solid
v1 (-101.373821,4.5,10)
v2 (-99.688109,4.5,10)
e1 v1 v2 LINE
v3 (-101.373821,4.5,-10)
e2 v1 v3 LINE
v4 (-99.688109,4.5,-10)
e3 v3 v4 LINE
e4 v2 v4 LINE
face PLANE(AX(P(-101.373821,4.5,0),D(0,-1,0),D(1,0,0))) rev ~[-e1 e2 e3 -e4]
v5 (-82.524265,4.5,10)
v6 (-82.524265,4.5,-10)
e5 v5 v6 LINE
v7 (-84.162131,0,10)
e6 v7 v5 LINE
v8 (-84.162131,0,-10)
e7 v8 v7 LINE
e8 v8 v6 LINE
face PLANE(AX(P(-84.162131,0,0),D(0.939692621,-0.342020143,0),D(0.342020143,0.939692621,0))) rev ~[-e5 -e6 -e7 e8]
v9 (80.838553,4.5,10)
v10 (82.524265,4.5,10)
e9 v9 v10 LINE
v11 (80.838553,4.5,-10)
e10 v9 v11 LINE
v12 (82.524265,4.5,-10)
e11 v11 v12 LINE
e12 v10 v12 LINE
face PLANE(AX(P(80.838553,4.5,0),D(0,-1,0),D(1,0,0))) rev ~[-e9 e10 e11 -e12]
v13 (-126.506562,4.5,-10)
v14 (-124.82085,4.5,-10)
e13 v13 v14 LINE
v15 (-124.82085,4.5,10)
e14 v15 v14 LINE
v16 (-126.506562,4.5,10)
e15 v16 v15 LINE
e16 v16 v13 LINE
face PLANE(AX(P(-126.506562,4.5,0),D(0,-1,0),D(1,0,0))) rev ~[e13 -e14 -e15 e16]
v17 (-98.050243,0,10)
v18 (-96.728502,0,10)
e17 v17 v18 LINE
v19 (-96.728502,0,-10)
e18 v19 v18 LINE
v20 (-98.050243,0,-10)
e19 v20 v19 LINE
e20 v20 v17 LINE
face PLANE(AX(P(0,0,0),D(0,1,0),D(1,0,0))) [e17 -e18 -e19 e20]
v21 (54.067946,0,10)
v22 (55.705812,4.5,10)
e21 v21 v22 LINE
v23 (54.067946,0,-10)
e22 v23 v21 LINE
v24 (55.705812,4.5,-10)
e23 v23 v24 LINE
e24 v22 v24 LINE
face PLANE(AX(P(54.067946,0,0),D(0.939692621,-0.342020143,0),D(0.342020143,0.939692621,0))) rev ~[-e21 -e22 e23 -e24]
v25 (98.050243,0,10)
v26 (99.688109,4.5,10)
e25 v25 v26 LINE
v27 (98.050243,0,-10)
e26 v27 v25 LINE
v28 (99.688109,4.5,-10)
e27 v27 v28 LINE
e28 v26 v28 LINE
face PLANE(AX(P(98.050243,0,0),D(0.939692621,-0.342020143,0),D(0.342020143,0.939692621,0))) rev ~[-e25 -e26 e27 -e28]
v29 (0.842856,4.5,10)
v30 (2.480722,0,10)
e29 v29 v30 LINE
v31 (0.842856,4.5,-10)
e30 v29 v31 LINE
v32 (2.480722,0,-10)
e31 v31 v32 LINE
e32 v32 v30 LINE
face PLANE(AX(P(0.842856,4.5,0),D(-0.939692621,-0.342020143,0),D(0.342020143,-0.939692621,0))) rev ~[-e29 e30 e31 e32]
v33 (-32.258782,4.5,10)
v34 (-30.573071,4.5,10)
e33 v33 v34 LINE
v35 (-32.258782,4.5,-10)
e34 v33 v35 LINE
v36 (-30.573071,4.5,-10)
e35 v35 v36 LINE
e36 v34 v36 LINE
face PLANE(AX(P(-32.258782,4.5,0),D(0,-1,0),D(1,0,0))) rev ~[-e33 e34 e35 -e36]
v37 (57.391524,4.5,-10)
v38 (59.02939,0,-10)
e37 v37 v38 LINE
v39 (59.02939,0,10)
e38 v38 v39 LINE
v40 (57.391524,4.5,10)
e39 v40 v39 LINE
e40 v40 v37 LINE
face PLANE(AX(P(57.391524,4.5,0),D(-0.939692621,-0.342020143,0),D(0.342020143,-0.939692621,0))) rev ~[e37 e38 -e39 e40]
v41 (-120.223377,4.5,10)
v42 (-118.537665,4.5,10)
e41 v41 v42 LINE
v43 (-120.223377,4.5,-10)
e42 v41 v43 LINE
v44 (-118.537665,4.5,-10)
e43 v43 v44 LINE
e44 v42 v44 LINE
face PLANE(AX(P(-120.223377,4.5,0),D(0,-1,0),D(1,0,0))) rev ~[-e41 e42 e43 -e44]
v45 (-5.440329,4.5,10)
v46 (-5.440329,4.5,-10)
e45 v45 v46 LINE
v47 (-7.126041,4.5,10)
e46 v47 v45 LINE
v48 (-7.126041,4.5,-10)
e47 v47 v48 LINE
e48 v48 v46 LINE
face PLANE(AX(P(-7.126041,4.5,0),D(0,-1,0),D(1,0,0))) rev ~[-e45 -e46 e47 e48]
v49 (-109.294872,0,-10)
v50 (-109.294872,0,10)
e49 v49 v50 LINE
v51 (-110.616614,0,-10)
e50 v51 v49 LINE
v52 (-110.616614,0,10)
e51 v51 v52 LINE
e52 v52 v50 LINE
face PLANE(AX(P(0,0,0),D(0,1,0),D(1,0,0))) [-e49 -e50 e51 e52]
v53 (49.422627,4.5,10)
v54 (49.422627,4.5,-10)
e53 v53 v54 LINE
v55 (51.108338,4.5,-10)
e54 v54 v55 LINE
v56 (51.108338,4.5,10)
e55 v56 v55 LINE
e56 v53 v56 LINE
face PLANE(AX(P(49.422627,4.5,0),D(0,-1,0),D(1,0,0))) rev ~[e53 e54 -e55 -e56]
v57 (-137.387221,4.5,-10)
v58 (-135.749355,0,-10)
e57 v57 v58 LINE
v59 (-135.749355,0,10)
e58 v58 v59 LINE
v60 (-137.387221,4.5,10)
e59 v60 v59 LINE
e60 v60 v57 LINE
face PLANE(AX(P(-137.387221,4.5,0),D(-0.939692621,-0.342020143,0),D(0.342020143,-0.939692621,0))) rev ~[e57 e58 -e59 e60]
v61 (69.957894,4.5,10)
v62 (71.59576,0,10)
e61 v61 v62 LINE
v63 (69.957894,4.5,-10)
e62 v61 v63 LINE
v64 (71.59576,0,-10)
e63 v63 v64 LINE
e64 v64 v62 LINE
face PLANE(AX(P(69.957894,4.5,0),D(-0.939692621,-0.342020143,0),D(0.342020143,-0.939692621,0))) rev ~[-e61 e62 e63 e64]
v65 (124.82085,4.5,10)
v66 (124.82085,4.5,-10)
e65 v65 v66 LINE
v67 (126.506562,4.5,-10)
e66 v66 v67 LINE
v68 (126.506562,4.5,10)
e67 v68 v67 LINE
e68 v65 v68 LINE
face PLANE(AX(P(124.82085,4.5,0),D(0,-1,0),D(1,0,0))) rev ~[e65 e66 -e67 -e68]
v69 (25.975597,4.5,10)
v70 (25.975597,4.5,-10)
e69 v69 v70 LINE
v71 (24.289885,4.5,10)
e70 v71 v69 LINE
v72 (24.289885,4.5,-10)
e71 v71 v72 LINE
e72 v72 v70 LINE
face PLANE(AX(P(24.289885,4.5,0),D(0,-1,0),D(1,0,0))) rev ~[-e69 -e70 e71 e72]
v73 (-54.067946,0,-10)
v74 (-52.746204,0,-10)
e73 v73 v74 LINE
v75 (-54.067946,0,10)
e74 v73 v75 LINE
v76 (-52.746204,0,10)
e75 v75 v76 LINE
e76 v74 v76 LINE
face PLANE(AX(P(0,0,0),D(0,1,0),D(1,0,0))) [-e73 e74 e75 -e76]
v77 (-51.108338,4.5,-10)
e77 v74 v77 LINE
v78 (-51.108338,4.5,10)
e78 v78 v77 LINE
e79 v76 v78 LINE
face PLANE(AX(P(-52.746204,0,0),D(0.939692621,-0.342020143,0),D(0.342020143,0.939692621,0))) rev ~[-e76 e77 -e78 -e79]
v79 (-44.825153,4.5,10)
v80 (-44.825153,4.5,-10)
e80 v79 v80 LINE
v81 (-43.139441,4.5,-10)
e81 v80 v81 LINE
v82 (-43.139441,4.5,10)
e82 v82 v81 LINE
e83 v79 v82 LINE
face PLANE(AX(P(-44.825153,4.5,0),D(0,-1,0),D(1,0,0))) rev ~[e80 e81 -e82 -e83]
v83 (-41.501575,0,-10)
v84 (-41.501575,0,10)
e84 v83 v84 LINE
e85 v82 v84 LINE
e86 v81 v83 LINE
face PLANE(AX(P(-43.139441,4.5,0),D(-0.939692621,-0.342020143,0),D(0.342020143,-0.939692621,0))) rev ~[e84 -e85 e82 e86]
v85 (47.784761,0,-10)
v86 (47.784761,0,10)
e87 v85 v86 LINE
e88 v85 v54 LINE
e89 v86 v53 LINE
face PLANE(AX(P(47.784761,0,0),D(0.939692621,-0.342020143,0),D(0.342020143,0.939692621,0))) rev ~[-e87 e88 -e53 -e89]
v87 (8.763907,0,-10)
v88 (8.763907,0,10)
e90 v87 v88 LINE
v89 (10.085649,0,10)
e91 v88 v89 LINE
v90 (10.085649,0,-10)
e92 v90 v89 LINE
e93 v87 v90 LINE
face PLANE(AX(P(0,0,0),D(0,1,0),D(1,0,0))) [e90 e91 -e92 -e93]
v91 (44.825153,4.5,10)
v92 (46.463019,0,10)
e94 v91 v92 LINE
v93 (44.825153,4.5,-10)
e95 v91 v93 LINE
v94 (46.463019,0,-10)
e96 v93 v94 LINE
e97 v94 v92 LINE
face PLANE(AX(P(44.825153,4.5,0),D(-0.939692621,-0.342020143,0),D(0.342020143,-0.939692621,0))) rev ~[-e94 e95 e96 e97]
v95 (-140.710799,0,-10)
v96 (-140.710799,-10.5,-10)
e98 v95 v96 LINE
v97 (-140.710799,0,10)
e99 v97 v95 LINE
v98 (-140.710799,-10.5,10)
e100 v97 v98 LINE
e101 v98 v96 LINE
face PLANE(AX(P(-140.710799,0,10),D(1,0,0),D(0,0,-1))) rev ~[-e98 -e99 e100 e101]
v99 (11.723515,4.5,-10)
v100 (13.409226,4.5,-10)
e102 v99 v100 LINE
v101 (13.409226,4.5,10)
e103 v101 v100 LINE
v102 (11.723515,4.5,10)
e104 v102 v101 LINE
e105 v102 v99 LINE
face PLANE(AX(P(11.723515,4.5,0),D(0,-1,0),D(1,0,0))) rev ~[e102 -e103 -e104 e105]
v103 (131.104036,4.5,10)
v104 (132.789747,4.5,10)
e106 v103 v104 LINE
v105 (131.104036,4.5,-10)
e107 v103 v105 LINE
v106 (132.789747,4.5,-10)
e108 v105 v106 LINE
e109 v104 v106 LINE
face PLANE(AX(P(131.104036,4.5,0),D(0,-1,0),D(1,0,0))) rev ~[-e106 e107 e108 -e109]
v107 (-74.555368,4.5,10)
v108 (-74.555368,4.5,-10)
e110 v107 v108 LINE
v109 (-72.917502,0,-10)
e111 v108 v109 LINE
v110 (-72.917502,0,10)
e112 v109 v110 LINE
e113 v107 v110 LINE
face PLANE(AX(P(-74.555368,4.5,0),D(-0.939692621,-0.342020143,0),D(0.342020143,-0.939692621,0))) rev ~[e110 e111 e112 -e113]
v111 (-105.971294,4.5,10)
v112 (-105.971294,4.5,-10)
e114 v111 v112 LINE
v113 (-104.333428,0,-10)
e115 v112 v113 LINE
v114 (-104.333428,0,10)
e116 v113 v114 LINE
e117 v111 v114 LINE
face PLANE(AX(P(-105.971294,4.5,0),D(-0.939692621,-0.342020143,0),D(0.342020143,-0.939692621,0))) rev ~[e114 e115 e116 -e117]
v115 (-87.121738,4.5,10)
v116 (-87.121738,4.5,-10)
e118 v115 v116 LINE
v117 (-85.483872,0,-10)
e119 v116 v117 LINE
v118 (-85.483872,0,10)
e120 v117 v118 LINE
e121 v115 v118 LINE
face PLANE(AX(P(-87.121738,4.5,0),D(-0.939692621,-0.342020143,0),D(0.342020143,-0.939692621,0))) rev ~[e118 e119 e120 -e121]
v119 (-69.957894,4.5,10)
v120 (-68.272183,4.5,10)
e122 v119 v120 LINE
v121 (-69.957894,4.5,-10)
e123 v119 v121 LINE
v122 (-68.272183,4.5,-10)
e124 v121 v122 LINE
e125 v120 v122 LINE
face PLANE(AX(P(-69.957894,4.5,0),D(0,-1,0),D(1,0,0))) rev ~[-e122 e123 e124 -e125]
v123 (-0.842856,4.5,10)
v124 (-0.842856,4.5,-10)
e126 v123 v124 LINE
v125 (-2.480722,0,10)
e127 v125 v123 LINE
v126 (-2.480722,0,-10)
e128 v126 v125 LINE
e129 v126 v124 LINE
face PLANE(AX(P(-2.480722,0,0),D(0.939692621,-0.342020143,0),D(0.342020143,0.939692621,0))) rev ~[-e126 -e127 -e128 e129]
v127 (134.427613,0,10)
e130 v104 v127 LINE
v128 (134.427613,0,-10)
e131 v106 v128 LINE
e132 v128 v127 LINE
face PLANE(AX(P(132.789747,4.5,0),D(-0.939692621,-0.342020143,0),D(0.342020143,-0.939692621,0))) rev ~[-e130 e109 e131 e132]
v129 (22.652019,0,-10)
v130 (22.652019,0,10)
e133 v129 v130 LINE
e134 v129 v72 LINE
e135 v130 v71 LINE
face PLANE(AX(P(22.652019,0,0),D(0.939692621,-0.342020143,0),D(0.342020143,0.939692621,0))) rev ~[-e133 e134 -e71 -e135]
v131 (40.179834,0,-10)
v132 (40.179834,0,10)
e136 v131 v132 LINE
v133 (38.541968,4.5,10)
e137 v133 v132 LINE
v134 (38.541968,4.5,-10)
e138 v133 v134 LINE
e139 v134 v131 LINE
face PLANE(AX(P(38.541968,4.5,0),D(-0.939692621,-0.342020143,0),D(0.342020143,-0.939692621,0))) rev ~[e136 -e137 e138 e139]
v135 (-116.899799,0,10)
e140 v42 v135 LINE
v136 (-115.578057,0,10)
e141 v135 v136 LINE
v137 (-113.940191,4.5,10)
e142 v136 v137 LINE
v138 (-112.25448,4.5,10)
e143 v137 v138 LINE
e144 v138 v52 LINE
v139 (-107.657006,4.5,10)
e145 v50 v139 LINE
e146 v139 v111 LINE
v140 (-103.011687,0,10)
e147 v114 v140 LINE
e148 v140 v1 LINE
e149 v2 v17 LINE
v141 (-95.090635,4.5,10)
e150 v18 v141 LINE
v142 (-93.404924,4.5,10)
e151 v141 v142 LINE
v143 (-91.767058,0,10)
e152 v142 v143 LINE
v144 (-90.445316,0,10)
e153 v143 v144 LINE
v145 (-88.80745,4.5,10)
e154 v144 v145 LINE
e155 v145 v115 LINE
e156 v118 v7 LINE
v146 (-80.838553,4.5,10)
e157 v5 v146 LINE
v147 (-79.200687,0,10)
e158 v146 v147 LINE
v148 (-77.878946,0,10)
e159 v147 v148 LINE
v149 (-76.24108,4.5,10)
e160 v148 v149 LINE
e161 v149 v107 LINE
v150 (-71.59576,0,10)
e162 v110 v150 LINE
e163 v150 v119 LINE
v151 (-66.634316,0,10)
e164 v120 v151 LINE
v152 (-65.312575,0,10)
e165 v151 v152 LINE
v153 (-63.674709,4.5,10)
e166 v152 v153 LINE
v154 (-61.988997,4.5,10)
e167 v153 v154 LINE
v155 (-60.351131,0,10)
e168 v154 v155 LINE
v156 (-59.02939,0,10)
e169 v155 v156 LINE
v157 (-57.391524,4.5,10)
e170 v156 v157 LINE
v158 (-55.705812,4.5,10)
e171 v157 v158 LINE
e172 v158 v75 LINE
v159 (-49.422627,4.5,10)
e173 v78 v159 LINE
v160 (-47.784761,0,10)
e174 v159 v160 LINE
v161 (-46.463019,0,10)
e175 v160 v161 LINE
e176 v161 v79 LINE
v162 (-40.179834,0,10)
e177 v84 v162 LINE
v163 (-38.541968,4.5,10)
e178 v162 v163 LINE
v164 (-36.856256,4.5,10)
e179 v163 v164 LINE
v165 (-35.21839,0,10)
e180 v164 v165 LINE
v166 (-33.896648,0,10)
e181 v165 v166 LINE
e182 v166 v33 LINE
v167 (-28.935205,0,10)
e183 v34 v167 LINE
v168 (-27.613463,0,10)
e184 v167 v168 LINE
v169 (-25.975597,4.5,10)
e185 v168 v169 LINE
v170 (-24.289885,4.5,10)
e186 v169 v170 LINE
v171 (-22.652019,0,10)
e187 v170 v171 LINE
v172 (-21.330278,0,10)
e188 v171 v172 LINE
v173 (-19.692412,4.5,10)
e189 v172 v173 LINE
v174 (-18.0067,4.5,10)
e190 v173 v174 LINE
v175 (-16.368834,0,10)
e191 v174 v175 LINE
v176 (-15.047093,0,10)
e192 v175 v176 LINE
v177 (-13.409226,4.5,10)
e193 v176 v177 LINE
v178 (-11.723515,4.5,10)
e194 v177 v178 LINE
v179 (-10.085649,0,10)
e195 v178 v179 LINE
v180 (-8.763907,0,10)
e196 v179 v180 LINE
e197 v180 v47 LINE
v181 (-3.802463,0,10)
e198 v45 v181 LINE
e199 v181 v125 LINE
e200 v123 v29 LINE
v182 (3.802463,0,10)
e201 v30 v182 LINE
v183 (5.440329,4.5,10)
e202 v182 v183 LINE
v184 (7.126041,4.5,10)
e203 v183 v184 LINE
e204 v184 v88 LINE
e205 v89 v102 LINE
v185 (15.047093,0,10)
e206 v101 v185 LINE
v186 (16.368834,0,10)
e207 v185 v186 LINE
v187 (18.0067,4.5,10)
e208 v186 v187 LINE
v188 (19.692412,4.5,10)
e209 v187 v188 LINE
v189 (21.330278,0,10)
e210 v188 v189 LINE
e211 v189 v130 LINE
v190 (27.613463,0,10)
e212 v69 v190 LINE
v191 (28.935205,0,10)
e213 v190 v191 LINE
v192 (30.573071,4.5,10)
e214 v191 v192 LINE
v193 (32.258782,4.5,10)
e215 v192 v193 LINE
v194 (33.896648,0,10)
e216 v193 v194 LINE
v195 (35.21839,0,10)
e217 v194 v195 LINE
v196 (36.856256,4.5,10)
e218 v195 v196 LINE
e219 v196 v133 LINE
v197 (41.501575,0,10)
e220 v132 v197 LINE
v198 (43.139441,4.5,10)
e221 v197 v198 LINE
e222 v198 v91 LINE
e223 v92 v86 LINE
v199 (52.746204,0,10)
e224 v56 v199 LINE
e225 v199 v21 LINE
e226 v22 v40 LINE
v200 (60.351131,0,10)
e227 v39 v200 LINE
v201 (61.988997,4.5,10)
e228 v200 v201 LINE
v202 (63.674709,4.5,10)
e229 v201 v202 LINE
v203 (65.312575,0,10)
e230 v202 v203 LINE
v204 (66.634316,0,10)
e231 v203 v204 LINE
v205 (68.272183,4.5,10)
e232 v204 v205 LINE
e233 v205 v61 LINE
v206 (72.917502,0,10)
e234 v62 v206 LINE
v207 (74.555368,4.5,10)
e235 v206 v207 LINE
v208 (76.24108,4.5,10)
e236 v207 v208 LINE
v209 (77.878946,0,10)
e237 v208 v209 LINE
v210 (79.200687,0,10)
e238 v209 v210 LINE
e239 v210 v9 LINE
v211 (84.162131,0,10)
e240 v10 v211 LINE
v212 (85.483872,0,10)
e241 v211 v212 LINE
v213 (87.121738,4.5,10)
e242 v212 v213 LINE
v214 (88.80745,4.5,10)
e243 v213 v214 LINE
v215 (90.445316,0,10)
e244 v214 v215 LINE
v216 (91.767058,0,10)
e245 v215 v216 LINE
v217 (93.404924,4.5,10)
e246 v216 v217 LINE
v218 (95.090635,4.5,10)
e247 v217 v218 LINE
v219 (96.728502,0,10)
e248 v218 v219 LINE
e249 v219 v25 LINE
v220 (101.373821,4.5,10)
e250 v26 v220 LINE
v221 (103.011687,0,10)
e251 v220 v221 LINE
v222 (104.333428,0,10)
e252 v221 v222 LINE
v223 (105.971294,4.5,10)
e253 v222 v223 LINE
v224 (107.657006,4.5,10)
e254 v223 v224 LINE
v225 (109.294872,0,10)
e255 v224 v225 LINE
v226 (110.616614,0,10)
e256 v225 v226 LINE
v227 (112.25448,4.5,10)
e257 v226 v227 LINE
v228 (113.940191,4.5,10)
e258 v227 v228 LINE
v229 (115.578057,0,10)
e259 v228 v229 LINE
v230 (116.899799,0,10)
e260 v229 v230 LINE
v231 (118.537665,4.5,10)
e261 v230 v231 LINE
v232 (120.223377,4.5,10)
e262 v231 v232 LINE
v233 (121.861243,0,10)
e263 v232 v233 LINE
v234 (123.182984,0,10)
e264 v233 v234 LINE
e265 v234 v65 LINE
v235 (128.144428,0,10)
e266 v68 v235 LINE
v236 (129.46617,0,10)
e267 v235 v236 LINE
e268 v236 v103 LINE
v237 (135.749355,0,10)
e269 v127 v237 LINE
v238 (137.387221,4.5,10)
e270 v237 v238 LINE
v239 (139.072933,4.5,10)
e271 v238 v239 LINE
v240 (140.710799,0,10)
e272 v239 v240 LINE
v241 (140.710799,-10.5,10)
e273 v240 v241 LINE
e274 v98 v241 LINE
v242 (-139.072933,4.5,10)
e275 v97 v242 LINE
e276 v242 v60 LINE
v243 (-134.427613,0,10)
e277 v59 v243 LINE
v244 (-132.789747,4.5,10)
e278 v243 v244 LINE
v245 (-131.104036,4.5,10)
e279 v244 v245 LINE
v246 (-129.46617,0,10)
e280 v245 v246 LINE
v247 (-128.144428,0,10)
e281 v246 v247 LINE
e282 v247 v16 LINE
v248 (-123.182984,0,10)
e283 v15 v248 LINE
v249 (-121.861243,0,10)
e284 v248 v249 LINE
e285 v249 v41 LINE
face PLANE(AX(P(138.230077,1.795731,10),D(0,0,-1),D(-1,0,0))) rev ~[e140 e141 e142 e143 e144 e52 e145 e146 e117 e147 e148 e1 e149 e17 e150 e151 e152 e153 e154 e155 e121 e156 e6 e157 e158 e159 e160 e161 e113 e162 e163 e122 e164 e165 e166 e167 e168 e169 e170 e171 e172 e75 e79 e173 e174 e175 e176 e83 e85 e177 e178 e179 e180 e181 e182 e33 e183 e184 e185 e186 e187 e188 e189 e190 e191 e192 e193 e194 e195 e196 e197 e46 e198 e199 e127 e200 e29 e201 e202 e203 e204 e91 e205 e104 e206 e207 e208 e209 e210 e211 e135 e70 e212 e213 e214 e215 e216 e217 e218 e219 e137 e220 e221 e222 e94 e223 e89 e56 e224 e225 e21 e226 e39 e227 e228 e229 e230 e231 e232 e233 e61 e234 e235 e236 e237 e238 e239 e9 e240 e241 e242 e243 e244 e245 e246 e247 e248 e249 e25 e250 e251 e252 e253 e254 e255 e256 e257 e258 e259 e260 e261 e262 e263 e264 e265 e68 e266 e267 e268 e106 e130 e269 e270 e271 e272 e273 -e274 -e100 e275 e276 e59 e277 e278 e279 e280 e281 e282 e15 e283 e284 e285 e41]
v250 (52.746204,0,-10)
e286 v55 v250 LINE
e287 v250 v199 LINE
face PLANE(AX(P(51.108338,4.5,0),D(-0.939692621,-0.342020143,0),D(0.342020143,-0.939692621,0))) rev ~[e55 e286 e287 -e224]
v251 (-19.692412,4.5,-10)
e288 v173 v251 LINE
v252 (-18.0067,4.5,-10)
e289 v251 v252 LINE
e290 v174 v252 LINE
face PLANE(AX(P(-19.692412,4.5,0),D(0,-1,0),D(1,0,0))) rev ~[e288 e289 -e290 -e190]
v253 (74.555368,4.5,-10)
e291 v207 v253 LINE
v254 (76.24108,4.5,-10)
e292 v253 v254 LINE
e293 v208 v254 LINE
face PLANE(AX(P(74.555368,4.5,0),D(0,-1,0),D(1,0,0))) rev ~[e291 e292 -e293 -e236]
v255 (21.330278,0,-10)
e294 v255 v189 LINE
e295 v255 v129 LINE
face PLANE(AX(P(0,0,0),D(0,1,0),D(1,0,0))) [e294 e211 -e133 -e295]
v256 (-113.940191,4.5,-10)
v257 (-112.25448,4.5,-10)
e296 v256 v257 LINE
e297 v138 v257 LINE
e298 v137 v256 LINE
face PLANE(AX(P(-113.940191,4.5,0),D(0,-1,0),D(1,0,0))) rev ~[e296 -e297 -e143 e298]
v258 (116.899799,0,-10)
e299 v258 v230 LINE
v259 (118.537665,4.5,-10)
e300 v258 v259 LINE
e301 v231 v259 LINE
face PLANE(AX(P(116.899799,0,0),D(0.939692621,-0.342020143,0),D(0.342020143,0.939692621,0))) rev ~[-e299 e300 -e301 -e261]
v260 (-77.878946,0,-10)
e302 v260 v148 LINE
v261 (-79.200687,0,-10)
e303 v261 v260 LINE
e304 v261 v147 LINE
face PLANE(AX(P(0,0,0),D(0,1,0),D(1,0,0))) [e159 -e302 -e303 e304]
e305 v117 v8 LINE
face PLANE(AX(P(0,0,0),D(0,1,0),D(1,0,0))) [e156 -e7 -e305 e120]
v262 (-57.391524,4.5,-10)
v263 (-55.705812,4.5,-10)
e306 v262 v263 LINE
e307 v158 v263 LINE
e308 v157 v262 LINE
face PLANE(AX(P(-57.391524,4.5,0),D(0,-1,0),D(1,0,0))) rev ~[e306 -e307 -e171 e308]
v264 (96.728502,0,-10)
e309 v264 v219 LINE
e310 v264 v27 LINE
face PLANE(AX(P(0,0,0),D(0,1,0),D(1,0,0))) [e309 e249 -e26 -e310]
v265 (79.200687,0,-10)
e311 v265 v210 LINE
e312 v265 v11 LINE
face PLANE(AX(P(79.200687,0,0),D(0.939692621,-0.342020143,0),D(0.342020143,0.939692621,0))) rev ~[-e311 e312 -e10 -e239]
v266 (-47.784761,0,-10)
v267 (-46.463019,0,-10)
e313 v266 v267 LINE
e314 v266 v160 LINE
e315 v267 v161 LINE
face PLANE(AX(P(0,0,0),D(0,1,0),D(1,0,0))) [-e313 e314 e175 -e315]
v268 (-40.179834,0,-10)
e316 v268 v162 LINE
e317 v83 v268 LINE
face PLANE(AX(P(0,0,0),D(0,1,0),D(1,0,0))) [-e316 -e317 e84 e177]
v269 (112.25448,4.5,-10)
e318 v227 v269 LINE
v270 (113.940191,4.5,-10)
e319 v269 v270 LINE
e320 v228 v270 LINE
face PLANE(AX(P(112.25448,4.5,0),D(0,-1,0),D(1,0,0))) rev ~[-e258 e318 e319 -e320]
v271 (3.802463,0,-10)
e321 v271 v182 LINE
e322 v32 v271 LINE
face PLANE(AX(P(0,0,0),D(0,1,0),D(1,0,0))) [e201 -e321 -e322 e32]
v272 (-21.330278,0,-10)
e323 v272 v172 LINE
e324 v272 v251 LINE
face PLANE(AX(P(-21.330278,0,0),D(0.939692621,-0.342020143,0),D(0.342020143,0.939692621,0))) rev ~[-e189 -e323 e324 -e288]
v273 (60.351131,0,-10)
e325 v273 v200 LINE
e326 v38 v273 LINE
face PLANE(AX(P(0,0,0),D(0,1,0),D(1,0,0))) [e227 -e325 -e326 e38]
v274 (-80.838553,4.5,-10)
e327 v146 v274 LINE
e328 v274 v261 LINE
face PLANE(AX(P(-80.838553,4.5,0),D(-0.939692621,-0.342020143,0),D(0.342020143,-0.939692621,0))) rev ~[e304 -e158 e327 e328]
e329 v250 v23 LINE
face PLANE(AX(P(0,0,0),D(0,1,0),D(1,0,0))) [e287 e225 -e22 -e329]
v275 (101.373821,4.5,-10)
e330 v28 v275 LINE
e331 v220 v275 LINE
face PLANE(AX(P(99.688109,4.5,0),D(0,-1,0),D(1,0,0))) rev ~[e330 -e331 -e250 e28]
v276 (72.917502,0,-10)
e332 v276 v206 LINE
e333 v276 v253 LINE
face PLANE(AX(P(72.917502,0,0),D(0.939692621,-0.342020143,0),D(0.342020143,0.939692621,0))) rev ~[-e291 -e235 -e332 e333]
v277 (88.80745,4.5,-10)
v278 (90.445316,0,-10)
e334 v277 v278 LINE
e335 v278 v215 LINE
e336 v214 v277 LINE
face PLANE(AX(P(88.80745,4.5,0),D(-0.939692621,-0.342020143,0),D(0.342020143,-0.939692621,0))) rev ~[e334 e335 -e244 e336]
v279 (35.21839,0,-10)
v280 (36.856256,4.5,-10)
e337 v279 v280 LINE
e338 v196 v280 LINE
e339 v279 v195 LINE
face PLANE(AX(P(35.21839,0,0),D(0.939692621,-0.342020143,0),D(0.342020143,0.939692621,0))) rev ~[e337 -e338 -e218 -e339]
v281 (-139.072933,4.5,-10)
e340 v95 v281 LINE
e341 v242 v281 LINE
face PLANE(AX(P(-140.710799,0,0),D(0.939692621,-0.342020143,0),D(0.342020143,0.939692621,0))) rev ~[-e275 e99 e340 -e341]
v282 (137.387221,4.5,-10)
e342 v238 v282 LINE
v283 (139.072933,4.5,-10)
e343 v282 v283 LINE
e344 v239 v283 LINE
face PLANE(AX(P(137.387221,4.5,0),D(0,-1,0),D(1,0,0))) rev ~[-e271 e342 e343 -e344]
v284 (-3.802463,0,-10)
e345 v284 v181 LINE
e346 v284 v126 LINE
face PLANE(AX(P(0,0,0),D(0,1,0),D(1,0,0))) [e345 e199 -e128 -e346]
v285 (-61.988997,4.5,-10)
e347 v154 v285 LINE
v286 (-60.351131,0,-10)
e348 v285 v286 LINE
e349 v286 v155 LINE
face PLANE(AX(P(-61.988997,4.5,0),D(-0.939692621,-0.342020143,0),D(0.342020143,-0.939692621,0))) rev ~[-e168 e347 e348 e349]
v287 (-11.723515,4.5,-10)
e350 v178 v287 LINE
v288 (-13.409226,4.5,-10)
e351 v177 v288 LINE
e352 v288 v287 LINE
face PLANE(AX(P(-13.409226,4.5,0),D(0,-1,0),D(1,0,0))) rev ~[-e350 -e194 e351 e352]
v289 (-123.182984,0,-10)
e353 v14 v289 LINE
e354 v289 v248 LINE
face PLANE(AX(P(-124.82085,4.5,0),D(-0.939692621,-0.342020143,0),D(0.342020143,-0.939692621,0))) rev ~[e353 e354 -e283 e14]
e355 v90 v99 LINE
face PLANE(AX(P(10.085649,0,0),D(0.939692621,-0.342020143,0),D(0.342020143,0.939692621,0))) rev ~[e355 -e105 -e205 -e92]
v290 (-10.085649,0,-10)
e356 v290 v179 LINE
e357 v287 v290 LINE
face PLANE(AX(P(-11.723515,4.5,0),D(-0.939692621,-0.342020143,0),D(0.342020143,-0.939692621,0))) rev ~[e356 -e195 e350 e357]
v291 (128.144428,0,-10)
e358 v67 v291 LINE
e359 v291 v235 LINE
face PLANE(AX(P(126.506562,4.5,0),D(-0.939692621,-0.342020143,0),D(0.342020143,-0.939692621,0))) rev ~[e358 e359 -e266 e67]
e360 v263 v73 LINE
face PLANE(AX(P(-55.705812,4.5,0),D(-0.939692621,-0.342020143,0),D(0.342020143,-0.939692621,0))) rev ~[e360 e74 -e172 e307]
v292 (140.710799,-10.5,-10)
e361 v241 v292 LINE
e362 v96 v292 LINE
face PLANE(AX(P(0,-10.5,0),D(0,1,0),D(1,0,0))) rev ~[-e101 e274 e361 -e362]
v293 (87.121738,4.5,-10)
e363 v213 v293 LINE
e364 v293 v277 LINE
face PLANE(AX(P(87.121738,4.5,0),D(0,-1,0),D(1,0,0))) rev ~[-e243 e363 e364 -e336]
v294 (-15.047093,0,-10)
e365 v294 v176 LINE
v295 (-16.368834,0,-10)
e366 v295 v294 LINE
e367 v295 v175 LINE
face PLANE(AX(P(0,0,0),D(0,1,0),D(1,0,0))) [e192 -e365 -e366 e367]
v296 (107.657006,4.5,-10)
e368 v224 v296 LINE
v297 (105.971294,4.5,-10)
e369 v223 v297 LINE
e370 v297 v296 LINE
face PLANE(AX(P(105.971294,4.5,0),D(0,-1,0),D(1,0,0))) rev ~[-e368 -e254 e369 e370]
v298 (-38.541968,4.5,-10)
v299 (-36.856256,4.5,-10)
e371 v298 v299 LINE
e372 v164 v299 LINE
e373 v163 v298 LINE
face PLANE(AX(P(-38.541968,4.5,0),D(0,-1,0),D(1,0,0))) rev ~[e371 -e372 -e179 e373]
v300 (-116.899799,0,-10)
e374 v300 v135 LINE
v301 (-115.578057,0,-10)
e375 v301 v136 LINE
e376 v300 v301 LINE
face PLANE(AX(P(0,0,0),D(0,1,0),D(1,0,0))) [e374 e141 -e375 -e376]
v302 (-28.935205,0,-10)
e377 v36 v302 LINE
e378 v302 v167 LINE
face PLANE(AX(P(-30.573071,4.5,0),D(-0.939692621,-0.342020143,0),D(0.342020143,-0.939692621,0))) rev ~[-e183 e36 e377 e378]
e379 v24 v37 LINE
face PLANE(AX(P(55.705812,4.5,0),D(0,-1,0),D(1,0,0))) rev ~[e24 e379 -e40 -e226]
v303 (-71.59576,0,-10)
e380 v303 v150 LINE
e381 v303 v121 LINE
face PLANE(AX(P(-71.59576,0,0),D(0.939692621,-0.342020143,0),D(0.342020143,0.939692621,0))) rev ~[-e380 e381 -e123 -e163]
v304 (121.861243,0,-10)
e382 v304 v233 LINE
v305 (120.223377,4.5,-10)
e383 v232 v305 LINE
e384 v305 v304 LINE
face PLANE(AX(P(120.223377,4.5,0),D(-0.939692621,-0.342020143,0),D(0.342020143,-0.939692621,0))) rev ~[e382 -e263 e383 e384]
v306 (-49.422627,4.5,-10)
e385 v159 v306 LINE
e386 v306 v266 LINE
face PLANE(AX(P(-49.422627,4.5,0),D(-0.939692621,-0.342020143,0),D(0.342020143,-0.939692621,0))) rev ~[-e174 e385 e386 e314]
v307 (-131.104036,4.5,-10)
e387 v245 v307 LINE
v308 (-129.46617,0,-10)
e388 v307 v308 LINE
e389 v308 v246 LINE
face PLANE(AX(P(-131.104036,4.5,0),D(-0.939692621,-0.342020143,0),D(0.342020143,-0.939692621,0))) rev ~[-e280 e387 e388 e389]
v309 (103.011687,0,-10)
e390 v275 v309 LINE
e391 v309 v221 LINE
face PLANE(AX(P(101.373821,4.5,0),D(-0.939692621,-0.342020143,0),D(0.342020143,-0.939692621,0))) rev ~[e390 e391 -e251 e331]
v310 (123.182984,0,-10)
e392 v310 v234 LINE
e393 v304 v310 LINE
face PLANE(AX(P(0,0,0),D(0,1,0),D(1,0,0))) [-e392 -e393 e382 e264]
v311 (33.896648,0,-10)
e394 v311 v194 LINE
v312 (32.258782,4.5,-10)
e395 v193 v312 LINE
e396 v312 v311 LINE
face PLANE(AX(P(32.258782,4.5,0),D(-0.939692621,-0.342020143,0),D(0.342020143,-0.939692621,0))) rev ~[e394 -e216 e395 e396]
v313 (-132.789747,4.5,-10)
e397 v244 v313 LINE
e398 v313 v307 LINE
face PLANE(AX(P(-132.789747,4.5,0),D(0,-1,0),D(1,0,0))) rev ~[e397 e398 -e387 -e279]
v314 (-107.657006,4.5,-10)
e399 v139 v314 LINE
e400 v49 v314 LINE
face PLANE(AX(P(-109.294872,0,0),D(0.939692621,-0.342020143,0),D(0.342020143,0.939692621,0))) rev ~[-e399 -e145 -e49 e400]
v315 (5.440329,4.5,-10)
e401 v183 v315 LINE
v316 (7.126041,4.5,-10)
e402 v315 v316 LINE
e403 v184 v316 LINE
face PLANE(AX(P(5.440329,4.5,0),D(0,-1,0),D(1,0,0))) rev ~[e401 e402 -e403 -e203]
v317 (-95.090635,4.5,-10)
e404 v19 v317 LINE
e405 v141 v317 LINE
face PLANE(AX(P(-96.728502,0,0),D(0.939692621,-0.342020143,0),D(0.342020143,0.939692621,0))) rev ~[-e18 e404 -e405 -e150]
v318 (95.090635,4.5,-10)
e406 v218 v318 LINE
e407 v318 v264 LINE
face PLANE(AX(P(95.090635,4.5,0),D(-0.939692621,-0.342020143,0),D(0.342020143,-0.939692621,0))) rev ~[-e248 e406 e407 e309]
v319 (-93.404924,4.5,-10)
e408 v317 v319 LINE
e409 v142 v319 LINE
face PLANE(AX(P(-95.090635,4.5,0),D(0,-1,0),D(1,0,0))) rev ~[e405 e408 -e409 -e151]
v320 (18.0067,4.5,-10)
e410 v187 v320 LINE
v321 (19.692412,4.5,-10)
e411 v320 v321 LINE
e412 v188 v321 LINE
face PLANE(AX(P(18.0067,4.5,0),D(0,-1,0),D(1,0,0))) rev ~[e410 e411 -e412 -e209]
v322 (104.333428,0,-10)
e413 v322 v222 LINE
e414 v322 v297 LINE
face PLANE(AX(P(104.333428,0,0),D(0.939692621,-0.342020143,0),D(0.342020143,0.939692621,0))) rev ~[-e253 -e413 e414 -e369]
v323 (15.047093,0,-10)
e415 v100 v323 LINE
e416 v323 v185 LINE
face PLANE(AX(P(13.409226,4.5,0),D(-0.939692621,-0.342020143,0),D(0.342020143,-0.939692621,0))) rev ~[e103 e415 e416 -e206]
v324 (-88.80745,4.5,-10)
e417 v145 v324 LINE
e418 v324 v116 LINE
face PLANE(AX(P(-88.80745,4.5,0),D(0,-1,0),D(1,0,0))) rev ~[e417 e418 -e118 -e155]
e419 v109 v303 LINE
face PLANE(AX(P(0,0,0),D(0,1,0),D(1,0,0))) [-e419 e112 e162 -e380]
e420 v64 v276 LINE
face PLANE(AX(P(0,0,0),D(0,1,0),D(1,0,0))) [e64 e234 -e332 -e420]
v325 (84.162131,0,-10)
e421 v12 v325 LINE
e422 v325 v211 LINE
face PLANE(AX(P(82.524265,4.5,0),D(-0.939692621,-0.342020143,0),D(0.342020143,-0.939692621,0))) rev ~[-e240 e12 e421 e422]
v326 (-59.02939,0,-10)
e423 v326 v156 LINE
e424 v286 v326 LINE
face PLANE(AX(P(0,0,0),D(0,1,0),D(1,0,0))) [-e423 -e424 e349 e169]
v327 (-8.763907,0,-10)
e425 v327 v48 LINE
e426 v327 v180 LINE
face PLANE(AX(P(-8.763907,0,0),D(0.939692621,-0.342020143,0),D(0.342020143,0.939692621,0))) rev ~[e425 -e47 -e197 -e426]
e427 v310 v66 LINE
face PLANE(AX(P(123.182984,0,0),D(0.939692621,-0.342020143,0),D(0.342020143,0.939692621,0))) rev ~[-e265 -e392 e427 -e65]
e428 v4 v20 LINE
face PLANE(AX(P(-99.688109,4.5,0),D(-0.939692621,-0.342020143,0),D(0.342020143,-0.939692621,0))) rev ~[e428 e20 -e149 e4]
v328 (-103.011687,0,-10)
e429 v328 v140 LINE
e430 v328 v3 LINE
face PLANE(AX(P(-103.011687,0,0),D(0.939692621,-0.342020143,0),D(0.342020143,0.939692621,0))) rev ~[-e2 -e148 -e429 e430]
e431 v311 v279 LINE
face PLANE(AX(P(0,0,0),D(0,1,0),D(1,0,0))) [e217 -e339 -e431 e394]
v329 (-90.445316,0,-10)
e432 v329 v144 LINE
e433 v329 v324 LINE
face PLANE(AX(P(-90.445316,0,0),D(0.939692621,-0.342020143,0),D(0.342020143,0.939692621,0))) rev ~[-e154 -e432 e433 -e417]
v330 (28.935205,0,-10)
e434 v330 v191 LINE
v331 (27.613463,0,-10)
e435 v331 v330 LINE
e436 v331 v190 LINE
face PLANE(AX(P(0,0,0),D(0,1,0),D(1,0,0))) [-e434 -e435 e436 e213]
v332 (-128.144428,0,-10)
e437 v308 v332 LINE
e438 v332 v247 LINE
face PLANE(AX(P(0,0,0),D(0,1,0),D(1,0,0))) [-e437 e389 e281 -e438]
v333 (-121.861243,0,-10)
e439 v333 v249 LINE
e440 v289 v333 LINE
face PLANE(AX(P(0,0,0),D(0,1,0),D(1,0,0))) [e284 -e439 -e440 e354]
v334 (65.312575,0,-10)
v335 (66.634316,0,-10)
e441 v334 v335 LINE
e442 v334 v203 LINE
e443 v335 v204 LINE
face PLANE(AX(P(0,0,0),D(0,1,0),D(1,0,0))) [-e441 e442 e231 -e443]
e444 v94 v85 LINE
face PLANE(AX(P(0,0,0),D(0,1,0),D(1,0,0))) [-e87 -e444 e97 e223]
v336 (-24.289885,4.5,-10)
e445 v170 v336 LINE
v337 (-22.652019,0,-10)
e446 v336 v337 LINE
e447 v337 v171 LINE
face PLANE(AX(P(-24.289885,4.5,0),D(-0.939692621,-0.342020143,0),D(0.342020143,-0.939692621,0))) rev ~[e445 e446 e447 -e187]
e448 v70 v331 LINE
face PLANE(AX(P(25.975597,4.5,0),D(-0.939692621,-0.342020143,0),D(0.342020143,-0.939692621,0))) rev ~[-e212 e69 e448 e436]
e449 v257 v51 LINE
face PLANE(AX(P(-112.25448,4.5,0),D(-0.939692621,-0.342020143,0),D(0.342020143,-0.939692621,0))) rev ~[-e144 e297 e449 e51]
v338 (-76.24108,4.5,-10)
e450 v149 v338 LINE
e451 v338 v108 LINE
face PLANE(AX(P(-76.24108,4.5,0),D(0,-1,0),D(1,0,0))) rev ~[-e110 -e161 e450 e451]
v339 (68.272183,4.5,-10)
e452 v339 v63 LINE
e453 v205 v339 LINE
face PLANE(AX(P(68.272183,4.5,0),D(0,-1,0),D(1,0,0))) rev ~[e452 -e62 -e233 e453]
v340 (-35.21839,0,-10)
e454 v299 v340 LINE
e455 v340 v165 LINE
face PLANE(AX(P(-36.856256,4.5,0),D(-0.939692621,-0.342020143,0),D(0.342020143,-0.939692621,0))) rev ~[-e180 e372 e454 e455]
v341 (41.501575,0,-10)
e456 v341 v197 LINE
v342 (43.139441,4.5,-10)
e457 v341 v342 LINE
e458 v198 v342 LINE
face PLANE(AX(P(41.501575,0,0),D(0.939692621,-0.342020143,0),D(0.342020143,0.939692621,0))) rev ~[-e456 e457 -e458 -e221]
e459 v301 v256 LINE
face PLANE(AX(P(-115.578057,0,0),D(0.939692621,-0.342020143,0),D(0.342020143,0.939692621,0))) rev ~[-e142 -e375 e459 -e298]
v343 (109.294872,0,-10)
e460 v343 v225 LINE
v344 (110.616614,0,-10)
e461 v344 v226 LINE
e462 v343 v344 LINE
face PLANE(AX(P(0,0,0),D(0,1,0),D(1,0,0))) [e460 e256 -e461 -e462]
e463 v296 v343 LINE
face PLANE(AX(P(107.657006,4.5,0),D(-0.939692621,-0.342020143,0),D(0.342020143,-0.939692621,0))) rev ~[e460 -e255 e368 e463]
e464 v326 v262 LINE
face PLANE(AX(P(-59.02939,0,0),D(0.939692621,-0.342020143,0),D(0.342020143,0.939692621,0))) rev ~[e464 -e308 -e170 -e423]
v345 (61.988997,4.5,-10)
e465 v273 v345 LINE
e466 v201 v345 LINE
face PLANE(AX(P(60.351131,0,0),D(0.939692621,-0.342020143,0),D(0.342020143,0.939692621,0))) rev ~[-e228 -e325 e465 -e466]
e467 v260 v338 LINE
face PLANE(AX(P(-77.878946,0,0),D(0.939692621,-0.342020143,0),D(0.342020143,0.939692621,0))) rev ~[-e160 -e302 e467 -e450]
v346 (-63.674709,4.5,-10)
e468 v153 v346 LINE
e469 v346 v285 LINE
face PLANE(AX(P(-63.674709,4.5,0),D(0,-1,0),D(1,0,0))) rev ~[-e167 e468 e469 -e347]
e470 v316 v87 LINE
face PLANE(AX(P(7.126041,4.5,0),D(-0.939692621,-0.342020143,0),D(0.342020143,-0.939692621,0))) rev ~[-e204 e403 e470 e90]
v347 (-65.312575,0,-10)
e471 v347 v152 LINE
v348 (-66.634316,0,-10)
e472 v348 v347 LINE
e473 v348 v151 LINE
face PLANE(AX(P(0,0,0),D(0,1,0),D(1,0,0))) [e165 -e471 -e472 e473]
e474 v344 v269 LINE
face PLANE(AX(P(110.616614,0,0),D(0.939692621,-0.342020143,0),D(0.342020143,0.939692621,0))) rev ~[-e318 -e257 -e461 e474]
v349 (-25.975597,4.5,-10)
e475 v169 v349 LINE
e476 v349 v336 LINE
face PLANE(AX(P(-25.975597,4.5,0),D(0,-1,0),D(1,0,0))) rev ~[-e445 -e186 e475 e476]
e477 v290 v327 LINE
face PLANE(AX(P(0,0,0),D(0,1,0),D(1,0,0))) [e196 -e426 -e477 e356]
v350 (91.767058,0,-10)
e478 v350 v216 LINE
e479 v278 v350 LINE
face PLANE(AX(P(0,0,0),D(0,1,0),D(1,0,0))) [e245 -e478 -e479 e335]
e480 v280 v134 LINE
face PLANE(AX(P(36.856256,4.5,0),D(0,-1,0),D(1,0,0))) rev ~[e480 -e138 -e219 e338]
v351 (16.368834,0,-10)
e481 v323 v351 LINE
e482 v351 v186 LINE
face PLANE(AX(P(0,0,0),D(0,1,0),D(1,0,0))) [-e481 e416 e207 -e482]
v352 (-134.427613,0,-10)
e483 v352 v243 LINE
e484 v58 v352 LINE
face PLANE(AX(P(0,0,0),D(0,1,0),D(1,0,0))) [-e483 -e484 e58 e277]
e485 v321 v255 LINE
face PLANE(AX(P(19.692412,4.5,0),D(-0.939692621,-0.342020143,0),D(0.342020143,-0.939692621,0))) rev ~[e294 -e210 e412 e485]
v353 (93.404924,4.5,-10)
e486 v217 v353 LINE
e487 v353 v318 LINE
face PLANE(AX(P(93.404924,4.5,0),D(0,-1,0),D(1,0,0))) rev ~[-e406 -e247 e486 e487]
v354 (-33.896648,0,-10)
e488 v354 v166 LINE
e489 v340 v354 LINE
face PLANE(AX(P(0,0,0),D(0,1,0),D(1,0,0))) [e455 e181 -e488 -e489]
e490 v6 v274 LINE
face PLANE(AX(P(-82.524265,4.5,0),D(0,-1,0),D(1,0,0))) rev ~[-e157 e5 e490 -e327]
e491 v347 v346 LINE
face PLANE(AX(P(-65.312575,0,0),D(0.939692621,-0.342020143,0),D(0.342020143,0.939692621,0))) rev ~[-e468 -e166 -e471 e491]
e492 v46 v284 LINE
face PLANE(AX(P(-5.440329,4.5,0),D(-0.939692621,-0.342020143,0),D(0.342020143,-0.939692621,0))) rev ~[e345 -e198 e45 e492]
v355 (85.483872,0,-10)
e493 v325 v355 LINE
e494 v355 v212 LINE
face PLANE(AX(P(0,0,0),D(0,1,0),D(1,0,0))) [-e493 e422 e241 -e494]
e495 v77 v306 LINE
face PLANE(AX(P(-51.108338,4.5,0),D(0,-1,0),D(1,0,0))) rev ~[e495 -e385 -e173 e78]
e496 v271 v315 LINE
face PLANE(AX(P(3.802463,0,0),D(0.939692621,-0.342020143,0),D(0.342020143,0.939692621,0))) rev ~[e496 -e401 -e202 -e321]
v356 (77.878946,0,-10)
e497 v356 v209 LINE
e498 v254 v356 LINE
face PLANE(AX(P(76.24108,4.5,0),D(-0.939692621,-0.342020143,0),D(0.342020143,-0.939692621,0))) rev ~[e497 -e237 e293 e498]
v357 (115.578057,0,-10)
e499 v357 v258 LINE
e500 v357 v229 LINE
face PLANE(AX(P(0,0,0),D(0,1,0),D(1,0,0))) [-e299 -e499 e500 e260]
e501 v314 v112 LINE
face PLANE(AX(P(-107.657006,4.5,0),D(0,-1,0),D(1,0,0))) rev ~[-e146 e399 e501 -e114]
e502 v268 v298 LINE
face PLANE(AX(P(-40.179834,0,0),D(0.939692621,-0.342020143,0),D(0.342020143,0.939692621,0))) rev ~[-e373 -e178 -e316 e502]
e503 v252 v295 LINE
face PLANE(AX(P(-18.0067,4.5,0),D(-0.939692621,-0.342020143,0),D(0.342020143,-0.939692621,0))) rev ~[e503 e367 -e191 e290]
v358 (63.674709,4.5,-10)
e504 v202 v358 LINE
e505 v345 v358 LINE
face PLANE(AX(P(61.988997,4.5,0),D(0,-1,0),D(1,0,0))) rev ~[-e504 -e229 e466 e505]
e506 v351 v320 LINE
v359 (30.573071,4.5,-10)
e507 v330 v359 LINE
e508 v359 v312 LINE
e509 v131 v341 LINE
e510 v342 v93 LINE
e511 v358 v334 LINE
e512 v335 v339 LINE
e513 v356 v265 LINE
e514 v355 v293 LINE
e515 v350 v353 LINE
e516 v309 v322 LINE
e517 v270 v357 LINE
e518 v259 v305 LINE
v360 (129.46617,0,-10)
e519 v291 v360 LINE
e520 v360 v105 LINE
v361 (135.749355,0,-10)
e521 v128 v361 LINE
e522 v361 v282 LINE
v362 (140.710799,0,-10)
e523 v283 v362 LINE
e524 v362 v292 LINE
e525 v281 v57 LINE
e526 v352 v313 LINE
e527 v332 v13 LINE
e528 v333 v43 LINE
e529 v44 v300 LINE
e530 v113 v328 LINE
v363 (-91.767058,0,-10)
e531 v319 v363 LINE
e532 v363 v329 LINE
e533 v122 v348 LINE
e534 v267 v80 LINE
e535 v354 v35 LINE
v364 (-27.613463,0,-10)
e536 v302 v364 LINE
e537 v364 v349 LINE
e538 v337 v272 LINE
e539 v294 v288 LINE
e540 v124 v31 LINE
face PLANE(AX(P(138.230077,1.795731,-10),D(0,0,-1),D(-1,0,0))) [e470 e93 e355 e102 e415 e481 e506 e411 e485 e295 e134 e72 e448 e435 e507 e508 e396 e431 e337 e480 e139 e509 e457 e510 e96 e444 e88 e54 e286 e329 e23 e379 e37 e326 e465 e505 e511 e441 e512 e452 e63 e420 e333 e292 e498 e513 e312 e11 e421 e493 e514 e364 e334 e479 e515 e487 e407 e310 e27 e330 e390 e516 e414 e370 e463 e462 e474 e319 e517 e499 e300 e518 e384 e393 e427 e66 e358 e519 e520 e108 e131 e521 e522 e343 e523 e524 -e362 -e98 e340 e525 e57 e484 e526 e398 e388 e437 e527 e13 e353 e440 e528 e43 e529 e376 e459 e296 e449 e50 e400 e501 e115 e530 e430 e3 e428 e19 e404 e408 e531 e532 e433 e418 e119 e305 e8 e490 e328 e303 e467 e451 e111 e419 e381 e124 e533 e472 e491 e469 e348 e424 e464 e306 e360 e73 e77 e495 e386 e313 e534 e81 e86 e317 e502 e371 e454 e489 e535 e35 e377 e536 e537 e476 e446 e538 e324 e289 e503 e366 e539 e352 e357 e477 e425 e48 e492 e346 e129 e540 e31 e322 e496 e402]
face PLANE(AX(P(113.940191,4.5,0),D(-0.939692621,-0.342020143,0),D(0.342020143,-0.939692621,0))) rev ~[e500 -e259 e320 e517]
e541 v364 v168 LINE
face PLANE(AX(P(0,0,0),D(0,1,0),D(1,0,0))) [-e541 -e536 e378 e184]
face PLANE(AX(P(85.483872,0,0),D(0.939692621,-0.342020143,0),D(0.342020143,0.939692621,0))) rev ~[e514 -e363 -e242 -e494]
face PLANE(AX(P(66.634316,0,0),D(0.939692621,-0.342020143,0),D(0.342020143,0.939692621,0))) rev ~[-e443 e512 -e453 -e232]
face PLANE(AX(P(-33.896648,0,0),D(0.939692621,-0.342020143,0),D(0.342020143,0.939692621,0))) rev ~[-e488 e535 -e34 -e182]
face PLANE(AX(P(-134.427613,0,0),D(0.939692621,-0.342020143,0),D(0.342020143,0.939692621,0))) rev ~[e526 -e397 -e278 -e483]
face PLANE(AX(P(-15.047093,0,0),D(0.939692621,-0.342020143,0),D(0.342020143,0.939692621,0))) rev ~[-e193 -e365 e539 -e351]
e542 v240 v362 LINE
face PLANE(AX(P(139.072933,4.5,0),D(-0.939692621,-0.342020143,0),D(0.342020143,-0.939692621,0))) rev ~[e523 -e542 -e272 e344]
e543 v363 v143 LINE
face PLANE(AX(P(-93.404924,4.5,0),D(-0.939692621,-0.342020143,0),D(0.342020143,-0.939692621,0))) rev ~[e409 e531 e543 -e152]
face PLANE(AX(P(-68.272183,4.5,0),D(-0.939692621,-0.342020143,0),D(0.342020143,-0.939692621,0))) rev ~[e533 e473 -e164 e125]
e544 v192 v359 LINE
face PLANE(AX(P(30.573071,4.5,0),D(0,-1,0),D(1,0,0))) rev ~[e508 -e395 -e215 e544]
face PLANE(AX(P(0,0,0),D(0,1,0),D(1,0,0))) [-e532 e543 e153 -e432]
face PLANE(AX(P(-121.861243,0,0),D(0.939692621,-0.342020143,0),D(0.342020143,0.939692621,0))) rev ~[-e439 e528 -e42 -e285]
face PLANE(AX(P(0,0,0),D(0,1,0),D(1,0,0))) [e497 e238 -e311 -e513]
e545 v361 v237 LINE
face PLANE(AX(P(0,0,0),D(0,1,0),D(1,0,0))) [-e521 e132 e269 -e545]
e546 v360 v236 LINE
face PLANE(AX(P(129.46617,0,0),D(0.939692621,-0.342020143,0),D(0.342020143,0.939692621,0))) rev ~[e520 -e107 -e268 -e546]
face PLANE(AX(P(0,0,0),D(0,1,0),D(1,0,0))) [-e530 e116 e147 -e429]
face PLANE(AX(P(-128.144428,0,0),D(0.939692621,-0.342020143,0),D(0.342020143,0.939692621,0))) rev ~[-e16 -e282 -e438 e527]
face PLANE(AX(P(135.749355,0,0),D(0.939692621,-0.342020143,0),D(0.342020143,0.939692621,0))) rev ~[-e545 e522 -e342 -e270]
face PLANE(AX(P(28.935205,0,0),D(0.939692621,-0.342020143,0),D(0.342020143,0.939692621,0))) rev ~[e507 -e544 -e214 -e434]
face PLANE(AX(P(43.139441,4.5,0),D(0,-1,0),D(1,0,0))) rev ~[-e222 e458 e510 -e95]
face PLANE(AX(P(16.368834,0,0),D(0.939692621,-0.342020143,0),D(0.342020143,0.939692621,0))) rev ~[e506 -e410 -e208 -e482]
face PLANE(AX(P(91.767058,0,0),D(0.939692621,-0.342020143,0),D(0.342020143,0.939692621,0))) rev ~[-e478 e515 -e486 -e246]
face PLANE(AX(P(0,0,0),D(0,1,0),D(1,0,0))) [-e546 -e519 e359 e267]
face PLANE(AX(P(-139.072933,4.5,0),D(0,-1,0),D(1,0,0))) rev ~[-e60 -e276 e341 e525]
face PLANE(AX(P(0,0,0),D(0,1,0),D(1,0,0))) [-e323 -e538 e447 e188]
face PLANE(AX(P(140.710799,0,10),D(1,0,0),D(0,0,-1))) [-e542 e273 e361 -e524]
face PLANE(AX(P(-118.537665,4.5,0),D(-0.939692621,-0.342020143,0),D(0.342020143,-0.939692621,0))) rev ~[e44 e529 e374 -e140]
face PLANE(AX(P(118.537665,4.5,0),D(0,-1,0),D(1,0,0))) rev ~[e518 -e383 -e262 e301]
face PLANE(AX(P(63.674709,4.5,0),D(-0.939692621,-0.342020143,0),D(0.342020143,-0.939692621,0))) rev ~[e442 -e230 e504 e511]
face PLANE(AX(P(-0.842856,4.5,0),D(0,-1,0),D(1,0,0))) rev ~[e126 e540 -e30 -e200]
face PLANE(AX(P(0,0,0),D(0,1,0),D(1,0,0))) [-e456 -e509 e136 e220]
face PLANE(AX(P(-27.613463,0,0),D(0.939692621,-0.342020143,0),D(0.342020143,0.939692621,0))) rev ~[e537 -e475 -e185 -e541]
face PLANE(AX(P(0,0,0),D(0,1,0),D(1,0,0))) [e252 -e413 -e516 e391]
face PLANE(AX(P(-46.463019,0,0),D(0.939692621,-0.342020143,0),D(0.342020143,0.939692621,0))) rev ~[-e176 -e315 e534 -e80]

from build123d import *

# Parameters (mm, degrees)
SKETCH_2_W             = 281.42159734
SKETCH_2_H             = 20
EXTRUDE_1_DEPTH        = 10.5
EXTRUDE_2_DEPTH        = 10
PATTERN_LINEAR_1_COUNT = 45
PATTERN_LINEAR_1_PITCH = 6.283185307


with BuildPart() as part:
    # 草图2 → 凸台-拉伸1 (new body)
    with BuildSketch(Plane(origin=(0, 0, 0), x_dir=(1, 0, 0), z_dir=(0, 1, 0))):
        Rectangle(SKETCH_2_W, SKETCH_2_H)
    extrude(amount=-EXTRUDE_1_DEPTH)

    # 草图3 → 凸台-拉伸2 (add, symmetric)
    with BuildSketch(Plane.XY):
        Polygon((-140.71079867, 0), (-139.072932616, 4.5), (-137.3872209, 4.5), (-135.749354845, 0), align=None)
    extrude_2 = extrude(amount=EXTRUDE_2_DEPTH, both=True)

    # 阵列(线性)1: 凸台-拉伸2 ×45
    with Locations(*[(i * PATTERN_LINEAR_1_PITCH, 0, 0) for i in range(1, PATTERN_LINEAR_1_COUNT)]):
        add(extrude_2)


solid = part.part
